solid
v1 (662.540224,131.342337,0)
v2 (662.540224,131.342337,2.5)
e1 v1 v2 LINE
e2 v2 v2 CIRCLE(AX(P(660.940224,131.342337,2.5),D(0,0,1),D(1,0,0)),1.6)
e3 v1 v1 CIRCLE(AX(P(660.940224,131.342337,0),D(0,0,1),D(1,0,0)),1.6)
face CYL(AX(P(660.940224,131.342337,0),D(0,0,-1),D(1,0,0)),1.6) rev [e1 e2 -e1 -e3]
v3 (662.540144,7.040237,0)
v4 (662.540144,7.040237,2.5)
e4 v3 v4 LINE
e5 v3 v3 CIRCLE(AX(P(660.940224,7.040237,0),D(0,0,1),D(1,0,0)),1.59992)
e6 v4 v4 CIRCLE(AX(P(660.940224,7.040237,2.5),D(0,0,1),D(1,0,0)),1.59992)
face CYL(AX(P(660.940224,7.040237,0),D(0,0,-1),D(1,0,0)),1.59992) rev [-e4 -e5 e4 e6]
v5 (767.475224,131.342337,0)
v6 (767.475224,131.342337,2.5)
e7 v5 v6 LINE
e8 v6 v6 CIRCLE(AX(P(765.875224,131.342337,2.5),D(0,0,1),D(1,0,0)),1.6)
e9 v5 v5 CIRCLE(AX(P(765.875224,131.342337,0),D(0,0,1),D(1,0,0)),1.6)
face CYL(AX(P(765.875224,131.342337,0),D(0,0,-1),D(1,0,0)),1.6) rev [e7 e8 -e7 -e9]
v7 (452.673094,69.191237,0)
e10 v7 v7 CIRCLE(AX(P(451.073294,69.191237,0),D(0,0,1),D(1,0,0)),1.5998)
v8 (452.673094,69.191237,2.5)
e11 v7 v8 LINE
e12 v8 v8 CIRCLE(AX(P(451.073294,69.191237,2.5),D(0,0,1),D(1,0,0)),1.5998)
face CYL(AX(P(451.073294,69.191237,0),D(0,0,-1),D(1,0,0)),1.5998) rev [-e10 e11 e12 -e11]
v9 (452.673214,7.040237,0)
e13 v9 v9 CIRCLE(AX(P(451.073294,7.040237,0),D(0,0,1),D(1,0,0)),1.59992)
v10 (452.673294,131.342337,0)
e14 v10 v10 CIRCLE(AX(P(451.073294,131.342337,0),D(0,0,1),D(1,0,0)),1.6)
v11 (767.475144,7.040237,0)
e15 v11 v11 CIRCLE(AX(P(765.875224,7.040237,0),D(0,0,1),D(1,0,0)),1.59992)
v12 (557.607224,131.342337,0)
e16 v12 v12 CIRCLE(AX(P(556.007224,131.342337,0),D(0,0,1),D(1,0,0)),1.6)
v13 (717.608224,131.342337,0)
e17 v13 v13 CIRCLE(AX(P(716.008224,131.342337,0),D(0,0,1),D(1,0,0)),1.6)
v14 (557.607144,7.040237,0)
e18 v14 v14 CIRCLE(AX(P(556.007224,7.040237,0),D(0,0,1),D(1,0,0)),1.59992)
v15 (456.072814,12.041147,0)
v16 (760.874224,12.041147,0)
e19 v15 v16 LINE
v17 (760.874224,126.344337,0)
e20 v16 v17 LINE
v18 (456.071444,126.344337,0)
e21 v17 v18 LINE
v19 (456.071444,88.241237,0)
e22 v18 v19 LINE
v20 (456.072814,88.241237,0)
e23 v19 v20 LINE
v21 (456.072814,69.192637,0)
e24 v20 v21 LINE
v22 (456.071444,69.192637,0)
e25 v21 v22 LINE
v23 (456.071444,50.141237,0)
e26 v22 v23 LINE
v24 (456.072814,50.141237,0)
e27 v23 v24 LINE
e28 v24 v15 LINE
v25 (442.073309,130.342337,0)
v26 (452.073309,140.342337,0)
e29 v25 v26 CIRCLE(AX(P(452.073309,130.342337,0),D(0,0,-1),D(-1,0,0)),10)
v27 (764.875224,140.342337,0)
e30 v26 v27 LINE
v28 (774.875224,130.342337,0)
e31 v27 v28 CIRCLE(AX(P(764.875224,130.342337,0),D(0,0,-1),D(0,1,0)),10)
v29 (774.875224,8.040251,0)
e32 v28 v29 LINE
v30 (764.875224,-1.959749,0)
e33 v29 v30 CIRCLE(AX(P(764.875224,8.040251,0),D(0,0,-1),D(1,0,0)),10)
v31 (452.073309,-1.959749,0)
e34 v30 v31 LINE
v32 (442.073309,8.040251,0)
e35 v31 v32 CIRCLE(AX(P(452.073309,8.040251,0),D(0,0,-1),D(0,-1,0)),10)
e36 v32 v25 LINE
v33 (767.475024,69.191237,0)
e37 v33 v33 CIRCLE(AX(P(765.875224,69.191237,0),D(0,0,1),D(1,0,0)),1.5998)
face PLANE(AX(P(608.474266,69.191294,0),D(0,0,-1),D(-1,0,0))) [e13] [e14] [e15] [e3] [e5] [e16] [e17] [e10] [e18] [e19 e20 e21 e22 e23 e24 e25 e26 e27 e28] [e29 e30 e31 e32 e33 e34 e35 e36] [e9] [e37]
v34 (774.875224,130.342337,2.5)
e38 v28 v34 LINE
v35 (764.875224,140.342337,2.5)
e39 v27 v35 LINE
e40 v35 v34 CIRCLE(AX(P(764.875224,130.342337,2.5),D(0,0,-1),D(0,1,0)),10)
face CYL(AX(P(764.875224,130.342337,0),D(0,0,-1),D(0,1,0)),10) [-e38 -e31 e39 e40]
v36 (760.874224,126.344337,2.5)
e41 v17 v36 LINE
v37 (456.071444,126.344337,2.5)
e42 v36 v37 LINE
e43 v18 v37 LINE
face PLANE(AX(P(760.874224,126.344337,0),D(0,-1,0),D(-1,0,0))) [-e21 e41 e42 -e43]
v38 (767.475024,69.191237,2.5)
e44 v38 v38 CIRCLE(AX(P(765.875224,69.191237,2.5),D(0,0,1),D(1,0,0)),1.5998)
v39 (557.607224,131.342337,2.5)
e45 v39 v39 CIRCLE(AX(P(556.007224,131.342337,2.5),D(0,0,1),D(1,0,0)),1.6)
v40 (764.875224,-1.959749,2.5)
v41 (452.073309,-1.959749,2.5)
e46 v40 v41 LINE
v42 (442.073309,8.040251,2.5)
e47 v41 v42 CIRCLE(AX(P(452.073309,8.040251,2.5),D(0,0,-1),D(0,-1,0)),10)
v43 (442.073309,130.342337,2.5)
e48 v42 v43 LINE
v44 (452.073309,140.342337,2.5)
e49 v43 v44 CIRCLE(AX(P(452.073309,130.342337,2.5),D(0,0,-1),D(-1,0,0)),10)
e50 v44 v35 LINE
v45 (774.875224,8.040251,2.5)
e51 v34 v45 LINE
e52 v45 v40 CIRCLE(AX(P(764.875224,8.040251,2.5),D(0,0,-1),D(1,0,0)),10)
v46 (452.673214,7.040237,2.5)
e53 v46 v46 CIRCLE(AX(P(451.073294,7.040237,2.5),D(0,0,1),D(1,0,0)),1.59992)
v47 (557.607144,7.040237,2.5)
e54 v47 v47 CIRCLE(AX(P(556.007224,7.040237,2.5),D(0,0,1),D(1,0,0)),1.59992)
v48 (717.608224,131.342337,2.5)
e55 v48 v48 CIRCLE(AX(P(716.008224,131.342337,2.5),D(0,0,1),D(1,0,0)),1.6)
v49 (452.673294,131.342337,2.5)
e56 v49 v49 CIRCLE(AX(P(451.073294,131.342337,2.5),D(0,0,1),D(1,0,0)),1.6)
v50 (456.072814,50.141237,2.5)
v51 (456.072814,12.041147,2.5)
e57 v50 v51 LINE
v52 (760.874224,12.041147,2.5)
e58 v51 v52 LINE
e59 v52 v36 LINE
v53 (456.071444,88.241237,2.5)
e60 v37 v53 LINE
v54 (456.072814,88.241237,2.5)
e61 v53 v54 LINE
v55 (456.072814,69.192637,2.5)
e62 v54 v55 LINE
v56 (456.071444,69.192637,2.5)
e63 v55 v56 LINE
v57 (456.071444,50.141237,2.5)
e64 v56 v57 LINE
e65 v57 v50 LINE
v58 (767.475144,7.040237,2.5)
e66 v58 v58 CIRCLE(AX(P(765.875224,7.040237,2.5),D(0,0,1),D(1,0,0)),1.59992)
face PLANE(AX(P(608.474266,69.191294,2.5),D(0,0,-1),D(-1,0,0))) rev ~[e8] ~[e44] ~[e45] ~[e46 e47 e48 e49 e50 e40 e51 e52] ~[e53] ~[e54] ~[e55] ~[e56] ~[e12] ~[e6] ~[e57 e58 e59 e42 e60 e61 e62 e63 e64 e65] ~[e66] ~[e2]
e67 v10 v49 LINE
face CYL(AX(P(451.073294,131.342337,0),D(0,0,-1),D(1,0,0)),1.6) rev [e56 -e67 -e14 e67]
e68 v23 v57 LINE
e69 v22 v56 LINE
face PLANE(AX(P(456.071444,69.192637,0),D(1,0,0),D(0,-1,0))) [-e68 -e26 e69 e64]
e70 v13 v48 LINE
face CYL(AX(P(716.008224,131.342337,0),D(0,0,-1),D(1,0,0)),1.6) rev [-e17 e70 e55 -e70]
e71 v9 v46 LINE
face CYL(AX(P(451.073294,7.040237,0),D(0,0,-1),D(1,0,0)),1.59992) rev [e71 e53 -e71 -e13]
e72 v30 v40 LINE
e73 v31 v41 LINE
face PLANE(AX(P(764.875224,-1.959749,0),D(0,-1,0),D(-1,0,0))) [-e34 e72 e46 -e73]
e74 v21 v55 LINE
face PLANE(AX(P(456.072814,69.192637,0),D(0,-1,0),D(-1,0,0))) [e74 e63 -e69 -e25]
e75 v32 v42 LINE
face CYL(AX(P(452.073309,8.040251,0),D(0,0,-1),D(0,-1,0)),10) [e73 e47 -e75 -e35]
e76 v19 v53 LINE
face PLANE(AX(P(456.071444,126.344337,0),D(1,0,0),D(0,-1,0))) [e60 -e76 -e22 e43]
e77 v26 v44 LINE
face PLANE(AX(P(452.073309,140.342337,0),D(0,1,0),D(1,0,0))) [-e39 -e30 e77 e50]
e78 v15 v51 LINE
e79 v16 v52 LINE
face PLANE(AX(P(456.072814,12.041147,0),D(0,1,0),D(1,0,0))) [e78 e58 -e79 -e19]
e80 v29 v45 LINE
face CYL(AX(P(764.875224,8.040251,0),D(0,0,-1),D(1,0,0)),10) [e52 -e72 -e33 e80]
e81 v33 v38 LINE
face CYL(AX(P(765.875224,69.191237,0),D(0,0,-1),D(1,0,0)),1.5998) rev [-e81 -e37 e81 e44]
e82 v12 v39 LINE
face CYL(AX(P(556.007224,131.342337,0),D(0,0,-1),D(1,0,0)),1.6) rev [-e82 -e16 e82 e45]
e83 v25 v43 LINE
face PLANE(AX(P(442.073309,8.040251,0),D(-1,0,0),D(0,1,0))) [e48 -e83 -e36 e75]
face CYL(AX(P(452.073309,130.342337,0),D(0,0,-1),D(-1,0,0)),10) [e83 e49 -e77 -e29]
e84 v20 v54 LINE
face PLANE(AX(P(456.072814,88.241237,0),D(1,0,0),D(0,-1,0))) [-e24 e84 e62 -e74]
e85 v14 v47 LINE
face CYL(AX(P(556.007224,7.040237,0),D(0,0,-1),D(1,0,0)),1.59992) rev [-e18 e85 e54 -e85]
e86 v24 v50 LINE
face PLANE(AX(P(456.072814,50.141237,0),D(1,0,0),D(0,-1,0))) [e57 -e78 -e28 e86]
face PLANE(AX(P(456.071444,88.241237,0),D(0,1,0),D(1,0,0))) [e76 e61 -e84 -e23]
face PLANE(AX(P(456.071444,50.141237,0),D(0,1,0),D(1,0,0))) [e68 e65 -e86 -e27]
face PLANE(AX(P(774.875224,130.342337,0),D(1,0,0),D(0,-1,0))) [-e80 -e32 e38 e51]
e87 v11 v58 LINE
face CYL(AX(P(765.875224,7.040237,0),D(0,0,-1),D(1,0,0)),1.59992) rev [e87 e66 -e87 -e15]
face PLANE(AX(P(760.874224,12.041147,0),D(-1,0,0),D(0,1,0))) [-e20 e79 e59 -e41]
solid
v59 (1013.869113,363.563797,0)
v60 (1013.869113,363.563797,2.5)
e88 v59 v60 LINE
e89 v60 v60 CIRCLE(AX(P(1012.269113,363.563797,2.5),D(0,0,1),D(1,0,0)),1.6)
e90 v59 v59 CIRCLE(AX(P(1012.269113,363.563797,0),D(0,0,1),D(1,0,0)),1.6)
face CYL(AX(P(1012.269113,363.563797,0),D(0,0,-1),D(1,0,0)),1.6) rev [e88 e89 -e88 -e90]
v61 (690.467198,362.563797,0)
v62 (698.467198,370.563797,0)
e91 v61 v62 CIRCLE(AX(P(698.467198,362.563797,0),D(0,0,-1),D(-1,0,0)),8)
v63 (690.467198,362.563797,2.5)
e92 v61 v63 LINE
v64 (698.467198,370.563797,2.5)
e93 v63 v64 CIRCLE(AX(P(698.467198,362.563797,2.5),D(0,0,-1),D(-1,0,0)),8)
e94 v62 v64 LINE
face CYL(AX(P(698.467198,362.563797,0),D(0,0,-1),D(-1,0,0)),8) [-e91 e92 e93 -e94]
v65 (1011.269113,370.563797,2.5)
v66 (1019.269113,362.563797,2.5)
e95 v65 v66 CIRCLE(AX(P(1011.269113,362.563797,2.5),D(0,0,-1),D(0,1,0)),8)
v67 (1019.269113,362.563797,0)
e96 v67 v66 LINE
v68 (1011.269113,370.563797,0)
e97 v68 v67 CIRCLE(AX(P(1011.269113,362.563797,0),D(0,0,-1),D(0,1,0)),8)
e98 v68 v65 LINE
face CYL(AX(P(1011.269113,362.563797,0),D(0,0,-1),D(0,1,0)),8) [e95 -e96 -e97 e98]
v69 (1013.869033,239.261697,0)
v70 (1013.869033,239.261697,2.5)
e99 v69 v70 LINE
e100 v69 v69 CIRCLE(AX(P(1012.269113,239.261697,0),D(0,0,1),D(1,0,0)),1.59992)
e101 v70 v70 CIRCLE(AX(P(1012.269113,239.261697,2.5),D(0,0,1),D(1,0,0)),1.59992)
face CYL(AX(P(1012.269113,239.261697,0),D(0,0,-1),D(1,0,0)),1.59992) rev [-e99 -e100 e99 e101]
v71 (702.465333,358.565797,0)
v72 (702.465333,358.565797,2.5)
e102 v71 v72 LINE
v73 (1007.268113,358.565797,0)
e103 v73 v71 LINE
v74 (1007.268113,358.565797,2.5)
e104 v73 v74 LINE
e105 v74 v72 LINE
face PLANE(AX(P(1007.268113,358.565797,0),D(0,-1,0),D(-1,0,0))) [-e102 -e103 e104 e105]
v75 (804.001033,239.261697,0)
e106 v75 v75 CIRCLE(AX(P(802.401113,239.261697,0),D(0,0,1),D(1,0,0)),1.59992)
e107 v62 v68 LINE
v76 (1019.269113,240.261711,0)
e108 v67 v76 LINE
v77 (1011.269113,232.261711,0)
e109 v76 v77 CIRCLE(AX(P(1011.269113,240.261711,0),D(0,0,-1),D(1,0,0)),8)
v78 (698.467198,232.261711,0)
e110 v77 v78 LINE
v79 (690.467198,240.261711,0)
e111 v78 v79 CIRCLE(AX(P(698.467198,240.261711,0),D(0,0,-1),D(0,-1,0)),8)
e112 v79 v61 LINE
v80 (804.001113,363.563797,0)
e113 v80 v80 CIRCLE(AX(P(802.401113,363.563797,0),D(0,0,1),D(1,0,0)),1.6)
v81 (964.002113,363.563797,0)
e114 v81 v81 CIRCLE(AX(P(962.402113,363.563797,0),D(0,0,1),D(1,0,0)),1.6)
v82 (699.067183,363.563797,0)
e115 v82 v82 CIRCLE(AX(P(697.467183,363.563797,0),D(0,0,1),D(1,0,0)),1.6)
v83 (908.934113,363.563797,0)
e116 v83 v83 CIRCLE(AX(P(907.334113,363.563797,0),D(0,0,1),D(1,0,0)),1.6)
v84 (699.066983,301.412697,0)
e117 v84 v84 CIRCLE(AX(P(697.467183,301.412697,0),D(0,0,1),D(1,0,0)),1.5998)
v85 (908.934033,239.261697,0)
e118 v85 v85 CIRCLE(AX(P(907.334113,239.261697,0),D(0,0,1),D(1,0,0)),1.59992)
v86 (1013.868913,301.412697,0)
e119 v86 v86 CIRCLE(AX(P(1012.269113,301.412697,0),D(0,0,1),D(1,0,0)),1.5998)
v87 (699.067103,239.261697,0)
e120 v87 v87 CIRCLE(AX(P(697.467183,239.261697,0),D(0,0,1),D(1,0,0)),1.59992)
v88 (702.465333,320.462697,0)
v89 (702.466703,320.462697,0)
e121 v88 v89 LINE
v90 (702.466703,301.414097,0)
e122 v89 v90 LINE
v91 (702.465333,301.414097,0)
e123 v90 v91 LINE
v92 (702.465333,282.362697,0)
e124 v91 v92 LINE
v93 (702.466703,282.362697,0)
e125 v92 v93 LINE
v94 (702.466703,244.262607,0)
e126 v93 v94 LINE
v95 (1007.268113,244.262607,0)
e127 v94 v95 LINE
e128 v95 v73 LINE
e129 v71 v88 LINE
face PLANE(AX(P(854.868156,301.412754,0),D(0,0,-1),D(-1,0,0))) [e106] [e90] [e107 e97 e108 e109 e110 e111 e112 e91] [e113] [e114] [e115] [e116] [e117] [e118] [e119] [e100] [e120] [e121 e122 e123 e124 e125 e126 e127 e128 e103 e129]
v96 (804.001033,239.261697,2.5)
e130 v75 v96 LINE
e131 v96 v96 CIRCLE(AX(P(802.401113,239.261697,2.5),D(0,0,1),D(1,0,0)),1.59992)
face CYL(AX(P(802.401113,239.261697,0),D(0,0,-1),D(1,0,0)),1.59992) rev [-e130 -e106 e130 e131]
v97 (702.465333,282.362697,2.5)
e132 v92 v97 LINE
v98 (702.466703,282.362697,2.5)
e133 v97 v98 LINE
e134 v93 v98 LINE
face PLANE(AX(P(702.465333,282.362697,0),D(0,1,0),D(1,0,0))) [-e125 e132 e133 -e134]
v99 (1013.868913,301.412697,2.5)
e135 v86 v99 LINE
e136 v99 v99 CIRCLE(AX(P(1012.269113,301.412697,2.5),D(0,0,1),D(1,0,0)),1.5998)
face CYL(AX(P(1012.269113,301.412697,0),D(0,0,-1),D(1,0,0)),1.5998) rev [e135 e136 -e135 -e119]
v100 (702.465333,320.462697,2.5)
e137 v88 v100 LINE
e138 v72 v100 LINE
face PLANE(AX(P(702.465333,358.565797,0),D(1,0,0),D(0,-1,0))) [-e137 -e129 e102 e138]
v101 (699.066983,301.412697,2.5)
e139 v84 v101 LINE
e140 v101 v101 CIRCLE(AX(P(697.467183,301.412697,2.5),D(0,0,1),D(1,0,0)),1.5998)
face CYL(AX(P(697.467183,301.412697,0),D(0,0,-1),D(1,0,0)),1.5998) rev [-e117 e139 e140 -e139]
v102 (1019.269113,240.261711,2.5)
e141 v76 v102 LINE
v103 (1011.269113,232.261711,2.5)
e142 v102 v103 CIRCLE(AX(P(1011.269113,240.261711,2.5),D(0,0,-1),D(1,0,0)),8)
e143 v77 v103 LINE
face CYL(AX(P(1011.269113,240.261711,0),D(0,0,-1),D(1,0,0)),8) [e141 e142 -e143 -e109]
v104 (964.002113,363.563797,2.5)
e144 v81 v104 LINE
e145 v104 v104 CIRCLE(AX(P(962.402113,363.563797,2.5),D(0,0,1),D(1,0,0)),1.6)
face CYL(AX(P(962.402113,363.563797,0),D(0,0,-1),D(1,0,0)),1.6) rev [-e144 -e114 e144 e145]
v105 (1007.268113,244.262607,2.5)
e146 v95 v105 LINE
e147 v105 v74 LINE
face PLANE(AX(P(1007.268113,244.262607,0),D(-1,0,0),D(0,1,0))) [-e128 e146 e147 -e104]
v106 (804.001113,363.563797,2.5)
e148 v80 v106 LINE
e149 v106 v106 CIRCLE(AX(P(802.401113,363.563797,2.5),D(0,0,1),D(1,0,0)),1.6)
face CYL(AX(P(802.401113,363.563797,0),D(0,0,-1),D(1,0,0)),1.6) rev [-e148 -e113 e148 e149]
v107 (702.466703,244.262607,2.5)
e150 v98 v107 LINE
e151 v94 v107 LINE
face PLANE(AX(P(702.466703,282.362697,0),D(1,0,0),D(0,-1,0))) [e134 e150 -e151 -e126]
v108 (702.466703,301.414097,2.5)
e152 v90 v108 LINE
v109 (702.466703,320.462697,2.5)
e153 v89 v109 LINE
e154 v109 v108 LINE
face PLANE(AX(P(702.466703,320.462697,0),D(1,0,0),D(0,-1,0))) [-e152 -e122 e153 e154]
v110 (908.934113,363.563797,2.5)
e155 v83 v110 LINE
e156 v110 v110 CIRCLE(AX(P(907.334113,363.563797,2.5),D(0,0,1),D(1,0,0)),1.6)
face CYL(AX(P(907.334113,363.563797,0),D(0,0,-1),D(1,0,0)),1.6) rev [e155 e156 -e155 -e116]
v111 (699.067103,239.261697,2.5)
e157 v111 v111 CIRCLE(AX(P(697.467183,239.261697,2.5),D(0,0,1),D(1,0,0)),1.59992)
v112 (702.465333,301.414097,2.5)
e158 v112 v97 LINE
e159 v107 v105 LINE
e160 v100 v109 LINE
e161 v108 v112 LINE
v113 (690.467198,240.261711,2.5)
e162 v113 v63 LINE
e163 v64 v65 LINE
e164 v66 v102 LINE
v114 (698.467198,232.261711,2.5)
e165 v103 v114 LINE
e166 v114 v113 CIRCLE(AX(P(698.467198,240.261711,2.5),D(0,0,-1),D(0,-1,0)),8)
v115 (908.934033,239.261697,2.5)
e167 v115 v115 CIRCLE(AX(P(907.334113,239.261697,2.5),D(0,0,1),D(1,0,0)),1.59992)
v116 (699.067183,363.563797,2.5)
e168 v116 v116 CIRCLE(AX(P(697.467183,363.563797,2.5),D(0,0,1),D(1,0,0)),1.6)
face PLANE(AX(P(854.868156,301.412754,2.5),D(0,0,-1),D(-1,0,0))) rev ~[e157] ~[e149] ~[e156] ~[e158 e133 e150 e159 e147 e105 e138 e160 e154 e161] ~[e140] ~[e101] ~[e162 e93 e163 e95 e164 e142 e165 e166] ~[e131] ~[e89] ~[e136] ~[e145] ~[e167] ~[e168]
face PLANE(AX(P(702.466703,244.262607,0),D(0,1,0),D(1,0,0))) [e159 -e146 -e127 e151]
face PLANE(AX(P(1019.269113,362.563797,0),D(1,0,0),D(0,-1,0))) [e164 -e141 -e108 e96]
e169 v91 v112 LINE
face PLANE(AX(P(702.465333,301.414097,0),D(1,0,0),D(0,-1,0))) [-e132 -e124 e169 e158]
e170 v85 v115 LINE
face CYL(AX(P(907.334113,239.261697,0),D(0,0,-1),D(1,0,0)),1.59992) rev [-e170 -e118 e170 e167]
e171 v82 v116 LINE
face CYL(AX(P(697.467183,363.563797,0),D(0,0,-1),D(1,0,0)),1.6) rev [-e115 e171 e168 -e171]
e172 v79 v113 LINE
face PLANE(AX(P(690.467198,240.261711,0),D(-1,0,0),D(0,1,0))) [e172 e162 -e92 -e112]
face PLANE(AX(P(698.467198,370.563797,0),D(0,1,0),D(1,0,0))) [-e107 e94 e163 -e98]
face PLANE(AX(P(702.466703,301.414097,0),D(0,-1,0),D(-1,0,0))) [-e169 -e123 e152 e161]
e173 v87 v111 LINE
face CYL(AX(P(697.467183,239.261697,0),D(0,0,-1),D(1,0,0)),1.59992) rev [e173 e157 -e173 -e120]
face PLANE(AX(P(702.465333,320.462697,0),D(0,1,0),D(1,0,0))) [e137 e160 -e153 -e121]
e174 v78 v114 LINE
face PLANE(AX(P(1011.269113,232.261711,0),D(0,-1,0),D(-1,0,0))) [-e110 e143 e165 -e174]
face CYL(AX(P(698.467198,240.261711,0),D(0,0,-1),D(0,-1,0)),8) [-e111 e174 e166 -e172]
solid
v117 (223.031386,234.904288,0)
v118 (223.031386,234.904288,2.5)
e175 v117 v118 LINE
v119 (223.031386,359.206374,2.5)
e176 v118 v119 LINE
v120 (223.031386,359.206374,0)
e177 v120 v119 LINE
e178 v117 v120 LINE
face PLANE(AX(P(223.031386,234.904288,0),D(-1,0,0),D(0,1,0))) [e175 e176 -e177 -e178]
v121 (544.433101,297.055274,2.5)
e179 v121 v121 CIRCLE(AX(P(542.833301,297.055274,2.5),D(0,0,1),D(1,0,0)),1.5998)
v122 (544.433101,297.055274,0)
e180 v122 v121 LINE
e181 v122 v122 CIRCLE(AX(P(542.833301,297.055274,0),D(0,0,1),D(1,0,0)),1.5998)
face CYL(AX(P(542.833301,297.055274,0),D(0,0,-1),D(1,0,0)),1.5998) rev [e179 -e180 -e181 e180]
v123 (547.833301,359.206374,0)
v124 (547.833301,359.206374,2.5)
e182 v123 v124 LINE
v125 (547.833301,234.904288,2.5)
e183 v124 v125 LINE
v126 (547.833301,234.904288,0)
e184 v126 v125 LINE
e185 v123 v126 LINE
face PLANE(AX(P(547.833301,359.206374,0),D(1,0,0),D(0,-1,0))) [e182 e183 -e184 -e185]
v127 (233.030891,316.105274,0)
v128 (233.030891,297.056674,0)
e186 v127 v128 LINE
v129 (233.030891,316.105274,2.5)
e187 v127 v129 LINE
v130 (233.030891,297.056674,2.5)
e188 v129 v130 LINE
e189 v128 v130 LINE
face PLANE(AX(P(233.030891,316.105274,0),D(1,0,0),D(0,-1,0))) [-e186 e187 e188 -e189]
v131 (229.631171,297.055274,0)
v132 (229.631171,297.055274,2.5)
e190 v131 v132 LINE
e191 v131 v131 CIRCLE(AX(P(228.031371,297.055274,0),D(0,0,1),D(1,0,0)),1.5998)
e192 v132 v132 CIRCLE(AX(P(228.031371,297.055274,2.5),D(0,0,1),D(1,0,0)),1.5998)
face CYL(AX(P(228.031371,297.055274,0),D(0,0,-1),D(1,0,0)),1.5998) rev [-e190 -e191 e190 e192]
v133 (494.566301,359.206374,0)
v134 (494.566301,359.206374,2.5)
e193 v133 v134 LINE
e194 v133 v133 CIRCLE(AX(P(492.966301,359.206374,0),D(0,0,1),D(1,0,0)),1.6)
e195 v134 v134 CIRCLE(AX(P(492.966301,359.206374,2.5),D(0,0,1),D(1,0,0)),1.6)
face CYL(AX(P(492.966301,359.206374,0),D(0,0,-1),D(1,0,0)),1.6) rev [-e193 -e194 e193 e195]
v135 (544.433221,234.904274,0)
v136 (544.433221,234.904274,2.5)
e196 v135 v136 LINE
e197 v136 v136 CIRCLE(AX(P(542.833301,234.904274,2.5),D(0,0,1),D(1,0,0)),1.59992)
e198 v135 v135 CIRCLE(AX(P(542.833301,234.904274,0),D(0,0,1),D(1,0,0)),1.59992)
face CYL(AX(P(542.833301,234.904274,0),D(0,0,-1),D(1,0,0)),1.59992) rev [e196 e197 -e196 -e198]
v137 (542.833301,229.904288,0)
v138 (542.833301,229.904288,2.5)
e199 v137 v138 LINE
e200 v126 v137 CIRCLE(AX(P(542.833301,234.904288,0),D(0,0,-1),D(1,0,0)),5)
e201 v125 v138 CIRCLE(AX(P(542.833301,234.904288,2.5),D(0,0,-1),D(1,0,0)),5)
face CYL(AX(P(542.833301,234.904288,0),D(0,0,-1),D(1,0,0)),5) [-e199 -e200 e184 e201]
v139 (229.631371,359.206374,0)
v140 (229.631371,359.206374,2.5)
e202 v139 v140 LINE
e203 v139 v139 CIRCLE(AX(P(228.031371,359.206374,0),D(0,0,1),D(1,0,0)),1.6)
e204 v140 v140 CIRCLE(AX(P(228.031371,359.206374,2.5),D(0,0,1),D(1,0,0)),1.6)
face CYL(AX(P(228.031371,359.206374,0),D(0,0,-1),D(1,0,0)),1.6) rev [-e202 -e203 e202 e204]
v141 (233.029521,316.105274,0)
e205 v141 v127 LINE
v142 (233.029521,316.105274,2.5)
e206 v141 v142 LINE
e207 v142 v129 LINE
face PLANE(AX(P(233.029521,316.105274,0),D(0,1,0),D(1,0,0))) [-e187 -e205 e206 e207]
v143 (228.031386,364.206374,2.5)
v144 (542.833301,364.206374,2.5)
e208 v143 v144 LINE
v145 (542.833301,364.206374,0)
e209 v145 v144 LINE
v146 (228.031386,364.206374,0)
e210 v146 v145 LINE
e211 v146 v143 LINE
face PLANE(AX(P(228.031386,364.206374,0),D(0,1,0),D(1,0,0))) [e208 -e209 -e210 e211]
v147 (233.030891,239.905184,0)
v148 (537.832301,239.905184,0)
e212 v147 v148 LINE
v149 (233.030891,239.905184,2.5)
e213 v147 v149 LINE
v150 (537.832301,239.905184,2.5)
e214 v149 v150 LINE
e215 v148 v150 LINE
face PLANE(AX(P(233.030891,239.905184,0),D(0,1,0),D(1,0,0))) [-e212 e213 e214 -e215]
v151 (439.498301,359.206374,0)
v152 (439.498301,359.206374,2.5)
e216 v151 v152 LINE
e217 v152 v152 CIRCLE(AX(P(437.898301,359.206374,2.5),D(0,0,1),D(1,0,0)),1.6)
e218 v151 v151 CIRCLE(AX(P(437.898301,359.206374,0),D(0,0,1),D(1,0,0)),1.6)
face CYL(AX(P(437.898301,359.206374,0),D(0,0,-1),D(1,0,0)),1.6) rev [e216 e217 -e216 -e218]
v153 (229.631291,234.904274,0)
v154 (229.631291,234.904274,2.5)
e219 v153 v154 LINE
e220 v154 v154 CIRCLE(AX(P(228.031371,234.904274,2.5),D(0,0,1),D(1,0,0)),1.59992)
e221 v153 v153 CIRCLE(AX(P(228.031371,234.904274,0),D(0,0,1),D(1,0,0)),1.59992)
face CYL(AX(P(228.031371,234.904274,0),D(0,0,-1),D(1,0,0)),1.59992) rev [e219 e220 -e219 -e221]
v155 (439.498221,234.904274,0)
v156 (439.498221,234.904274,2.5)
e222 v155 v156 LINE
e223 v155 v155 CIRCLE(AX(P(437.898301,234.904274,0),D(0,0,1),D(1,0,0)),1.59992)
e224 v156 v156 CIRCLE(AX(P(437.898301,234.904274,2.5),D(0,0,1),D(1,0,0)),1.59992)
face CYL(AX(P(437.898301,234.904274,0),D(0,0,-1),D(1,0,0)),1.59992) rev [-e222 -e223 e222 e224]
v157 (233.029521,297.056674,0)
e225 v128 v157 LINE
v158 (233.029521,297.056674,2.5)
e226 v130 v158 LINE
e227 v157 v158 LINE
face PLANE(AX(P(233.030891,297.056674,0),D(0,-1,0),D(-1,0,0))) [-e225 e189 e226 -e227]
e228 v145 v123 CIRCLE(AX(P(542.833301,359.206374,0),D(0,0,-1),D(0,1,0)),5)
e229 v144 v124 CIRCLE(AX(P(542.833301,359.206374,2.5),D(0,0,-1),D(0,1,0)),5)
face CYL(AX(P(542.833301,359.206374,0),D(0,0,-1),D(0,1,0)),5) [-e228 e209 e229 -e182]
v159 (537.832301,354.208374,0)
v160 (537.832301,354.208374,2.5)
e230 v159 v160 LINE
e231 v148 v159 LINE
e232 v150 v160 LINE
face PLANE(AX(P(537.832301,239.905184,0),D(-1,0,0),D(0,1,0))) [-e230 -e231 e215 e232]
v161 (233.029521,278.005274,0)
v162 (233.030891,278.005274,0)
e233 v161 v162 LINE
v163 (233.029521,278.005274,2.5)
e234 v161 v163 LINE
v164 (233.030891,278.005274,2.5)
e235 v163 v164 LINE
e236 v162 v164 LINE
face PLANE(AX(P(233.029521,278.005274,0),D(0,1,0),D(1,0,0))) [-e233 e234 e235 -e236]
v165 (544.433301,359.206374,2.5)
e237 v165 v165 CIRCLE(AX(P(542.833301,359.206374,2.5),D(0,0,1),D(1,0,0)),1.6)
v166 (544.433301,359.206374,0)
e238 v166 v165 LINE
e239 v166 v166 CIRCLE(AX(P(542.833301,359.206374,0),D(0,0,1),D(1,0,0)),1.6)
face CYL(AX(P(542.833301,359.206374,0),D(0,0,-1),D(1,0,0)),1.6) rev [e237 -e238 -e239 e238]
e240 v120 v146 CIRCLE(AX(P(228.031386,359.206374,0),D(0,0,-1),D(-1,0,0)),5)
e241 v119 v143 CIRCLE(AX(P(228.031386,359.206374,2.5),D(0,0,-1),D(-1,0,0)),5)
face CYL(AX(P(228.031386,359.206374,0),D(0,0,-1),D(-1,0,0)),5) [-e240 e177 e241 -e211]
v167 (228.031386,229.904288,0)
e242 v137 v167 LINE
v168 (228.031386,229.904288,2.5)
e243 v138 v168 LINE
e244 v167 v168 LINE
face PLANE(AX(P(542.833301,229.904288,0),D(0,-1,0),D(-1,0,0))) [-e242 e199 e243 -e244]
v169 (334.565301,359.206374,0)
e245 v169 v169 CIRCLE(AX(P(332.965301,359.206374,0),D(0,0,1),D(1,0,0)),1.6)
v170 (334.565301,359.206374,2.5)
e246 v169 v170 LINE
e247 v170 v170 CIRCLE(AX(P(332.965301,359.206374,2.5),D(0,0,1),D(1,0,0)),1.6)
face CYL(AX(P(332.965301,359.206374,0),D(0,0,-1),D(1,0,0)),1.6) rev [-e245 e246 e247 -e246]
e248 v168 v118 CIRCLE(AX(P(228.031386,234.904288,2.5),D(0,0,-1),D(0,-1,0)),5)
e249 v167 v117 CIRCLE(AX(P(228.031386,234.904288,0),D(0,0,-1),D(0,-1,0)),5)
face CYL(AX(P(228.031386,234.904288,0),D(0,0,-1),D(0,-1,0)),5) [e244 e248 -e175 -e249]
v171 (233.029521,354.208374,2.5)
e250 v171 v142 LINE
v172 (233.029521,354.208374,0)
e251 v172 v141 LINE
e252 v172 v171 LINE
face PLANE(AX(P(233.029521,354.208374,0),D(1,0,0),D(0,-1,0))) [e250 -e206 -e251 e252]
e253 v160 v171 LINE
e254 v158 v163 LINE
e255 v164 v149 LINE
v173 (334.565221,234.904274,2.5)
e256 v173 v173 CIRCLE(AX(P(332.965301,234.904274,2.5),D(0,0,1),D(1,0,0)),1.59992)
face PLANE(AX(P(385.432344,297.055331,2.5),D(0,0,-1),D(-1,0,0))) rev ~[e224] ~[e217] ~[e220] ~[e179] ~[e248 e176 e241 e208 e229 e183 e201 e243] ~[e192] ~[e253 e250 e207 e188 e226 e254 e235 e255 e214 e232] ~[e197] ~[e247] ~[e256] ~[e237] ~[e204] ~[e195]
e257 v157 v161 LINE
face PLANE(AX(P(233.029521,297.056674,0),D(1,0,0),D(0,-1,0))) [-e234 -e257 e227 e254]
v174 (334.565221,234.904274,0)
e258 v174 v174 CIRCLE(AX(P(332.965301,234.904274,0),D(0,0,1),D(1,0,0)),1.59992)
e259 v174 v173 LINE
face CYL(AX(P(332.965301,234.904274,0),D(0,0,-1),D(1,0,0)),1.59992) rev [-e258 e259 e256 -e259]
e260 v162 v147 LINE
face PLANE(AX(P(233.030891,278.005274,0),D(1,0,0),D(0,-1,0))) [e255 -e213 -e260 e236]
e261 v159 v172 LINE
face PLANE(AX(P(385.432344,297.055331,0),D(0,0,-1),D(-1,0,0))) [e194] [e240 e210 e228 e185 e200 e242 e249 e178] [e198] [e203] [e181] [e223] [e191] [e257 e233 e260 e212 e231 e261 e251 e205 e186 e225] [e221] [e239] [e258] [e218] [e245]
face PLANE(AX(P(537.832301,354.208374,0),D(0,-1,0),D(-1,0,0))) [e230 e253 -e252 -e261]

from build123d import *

# Parameters (mm, degrees)
SKETCH_3_R        = 1.6
SKETCH_3_R_2      = 1.5998
SKETCH_3_R_3      = 1.59992
EXTRUDE_2_DEPTH   = 2.5
EXTRUDE_2_2_DEPTH = 2.5
EXTRUDE_2_3_DEPTH = 2.5


with BuildPart() as part:
    # 草图3 → 凸台-拉伸2 (new body)
    with BuildSketch(Plane.XY):
        with BuildLine():
            Line((452.073308623, 140.342337287), (764.875224023, 140.342337287))
            ThreePointArc((764.875224023, 140.342337287), (771.946291835, 137.413405099), (774.875224023, 130.342337287))
            Line((774.875224023, 130.342337287), (774.875224023, 8.040251287))
            ThreePointArc((774.875224023, 8.040251287), (771.946291835, 0.969183475), (764.875224023, -1.959748713))
            Line((764.875224023, -1.959748713), (452.073308623, -1.959748713))
            ThreePointArc((452.073308623, -1.959748713), (445.002240811, 0.969183475), (442.073308623, 8.040251287))
            Line((442.073308623, 8.040251287), (442.073308623, 130.342337287))
            ThreePointArc((442.073308623, 130.342337287), (445.002240811, 137.413405099), (452.073308623, 140.342337287))
        make_face()
        with Locations((660.940224023, 131.342337287)):
            Circle(SKETCH_3_R, mode=Mode.SUBTRACT)
        with Locations((716.008224023, 131.342337287)):
            Circle(SKETCH_3_R, mode=Mode.SUBTRACT)
        with Locations((765.875224023, 131.342337287)):
            Circle(SKETCH_3_R, mode=Mode.SUBTRACT)
        with Locations((765.875224023, 69.191237287)):
            Circle(SKETCH_3_R_2, mode=Mode.SUBTRACT)
        with Locations((765.875224023, 7.040237287)):
            Circle(SKETCH_3_R_3, mode=Mode.SUBTRACT)
        with Locations((660.940224023, 7.040237287)):
            Circle(SKETCH_3_R_3, mode=Mode.SUBTRACT)
        with Locations((556.007224023, 7.040237287)):
            Circle(SKETCH_3_R_3, mode=Mode.SUBTRACT)
        with Locations((451.073294023, 7.040237287)):
            Circle(SKETCH_3_R_3, mode=Mode.SUBTRACT)
        with Locations((451.073294023, 69.191237287)):
            Circle(SKETCH_3_R_2, mode=Mode.SUBTRACT)
        with Locations((451.073294023, 131.342337287)):
            Circle(SKETCH_3_R, mode=Mode.SUBTRACT)
        with Locations((556.007224023, 131.342337287)):
            Circle(SKETCH_3_R, mode=Mode.SUBTRACT)
        Polygon((456.071444023, 126.344337287), (456.071444023, 88.241237287), (456.072814023, 88.241237287), (456.072814023, 69.192637287), (456.071444023, 69.192637287), (456.071444023, 50.141237287), (456.072814023, 50.141237287), (456.072814023, 12.041147287), (760.874224023, 12.041147287), (760.874224023, 126.344337287), align=None, mode=Mode.SUBTRACT)
    extrude(amount=EXTRUDE_2_DEPTH)


with BuildPart() as body_2:
    # 草图3 → Extrude 2 2 (new body)
    with BuildSketch(Plane.XY):
        with BuildLine():
            Line((228.031386011, 364.206373848), (542.833301411, 364.206373848))
            ThreePointArc((542.833301411, 364.206373848), (546.368835317, 362.741907753), (547.833301411, 359.206373848))
            Line((547.833301411, 359.206373848), (547.833301411, 234.904287848))
            ThreePointArc((547.833301411, 234.904287848), (546.368835317, 231.368753942), (542.833301411, 229.904287848))
            Line((542.833301411, 229.904287848), (228.031386011, 229.904287848))
            ThreePointArc((228.031386011, 229.904287848), (224.495852105, 231.368753942), (223.031386011, 234.904287848))
            Line((223.031386011, 234.904287848), (223.031386011, 359.206373848))
            ThreePointArc((223.031386011, 359.206373848), (224.495852105, 362.741907753), (228.031386011, 364.206373848))
        make_face()
        with Locations((437.898301411, 359.206373848)):
            Circle(SKETCH_3_R, mode=Mode.SUBTRACT)
        with Locations((492.966301411, 359.206373848)):
            Circle(SKETCH_3_R, mode=Mode.SUBTRACT)
        with Locations((542.833301411, 359.206373848)):
            Circle(SKETCH_3_R, mode=Mode.SUBTRACT)
        with Locations((542.833301411, 297.055273848)):
            Circle(SKETCH_3_R_2, mode=Mode.SUBTRACT)
        with Locations((542.833301411, 234.904273848)):
            Circle(SKETCH_3_R_3, mode=Mode.SUBTRACT)
        with Locations((437.898301411, 234.904273848)):
            Circle(SKETCH_3_R_3, mode=Mode.SUBTRACT)
        with Locations((332.965301411, 234.904273848)):
            Circle(SKETCH_3_R_3, mode=Mode.SUBTRACT)
        with Locations((228.031371411, 234.904273848)):
            Circle(SKETCH_3_R_3, mode=Mode.SUBTRACT)
        with Locations((228.031371411, 297.055273848)):
            Circle(SKETCH_3_R_2, mode=Mode.SUBTRACT)
        with Locations((228.031371411, 359.206373848)):
            Circle(SKETCH_3_R, mode=Mode.SUBTRACT)
        with Locations((332.965301411, 359.206373848)):
            Circle(SKETCH_3_R, mode=Mode.SUBTRACT)
        Polygon((233.029521411, 354.208373848), (233.029521411, 316.105273848), (233.030891411, 316.105273848), (233.030891411, 297.056673848), (233.029521411, 297.056673848), (233.029521411, 278.005273848), (233.030891411, 278.005273848), (233.030891411, 239.905183848), (537.832301411, 239.905183848), (537.832301411, 354.208373848), align=None, mode=Mode.SUBTRACT)
    extrude(amount=EXTRUDE_2_2_DEPTH)


with BuildPart() as body_3:
    # 草图3 → Extrude 2 3 (new body)
    with BuildSketch(Plane.XY):
        with BuildLine():
            Line((698.467197982, 370.563797332), (1011.269113382, 370.563797332))
            ThreePointArc((1011.269113382, 370.563797332), (1016.925967632, 368.220651581), (1019.269113382, 362.563797332))
            Line((1019.269113382, 362.563797332), (1019.269113382, 240.261711332))
            ThreePointArc((1019.269113382, 240.261711332), (1016.925967632, 234.604857082), (1011.269113382, 232.261711332))
            Line((1011.269113382, 232.261711332), (698.467197982, 232.261711332))
            ThreePointArc((698.467197982, 232.261711332), (692.810343733, 234.604857082), (690.467197982, 240.261711332))
            Line((690.467197982, 240.261711332), (690.467197982, 362.563797332))
            ThreePointArc((690.467197982, 362.563797332), (692.810343733, 368.220651581), (698.467197982, 370.563797332))
        make_face()
        with Locations((907.334113382, 363.563797332)):
            Circle(SKETCH_3_R, mode=Mode.SUBTRACT)
        with Locations((962.402113382, 363.563797332)):
            Circle(SKETCH_3_R, mode=Mode.SUBTRACT)
        with Locations((1012.269113382, 363.563797332)):
            Circle(SKETCH_3_R, mode=Mode.SUBTRACT)
        with Locations((1012.269113382, 301.412697332)):
            Circle(SKETCH_3_R_2, mode=Mode.SUBTRACT)
        with Locations((1012.269113382, 239.261697332)):
            Circle(SKETCH_3_R_3, mode=Mode.SUBTRACT)
        with Locations((907.334113382, 239.261697332)):
            Circle(SKETCH_3_R_3, mode=Mode.SUBTRACT)
        with Locations((802.401113382, 239.261697332)):
            Circle(SKETCH_3_R_3, mode=Mode.SUBTRACT)
        with Locations((697.467183382, 239.261697332)):
            Circle(SKETCH_3_R_3, mode=Mode.SUBTRACT)
        with Locations((697.467183382, 301.412697332)):
            Circle(SKETCH_3_R_2, mode=Mode.SUBTRACT)
        with Locations((697.467183382, 363.563797332)):
            Circle(SKETCH_3_R, mode=Mode.SUBTRACT)
        with Locations((802.401113382, 363.563797332)):
            Circle(SKETCH_3_R, mode=Mode.SUBTRACT)
        Polygon((702.465333382, 358.565797332), (702.465333382, 320.462697332), (702.466703382, 320.462697332), (702.466703382, 301.414097332), (702.465333382, 301.414097332), (702.465333382, 282.362697332), (702.466703382, 282.362697332), (702.466703382, 244.262607332), (1007.268113382, 244.262607332), (1007.268113382, 358.565797332), align=None, mode=Mode.SUBTRACT)
    extrude(amount=EXTRUDE_2_3_DEPTH)


solid = Compound([part.part, body_2.part, body_3.part])
